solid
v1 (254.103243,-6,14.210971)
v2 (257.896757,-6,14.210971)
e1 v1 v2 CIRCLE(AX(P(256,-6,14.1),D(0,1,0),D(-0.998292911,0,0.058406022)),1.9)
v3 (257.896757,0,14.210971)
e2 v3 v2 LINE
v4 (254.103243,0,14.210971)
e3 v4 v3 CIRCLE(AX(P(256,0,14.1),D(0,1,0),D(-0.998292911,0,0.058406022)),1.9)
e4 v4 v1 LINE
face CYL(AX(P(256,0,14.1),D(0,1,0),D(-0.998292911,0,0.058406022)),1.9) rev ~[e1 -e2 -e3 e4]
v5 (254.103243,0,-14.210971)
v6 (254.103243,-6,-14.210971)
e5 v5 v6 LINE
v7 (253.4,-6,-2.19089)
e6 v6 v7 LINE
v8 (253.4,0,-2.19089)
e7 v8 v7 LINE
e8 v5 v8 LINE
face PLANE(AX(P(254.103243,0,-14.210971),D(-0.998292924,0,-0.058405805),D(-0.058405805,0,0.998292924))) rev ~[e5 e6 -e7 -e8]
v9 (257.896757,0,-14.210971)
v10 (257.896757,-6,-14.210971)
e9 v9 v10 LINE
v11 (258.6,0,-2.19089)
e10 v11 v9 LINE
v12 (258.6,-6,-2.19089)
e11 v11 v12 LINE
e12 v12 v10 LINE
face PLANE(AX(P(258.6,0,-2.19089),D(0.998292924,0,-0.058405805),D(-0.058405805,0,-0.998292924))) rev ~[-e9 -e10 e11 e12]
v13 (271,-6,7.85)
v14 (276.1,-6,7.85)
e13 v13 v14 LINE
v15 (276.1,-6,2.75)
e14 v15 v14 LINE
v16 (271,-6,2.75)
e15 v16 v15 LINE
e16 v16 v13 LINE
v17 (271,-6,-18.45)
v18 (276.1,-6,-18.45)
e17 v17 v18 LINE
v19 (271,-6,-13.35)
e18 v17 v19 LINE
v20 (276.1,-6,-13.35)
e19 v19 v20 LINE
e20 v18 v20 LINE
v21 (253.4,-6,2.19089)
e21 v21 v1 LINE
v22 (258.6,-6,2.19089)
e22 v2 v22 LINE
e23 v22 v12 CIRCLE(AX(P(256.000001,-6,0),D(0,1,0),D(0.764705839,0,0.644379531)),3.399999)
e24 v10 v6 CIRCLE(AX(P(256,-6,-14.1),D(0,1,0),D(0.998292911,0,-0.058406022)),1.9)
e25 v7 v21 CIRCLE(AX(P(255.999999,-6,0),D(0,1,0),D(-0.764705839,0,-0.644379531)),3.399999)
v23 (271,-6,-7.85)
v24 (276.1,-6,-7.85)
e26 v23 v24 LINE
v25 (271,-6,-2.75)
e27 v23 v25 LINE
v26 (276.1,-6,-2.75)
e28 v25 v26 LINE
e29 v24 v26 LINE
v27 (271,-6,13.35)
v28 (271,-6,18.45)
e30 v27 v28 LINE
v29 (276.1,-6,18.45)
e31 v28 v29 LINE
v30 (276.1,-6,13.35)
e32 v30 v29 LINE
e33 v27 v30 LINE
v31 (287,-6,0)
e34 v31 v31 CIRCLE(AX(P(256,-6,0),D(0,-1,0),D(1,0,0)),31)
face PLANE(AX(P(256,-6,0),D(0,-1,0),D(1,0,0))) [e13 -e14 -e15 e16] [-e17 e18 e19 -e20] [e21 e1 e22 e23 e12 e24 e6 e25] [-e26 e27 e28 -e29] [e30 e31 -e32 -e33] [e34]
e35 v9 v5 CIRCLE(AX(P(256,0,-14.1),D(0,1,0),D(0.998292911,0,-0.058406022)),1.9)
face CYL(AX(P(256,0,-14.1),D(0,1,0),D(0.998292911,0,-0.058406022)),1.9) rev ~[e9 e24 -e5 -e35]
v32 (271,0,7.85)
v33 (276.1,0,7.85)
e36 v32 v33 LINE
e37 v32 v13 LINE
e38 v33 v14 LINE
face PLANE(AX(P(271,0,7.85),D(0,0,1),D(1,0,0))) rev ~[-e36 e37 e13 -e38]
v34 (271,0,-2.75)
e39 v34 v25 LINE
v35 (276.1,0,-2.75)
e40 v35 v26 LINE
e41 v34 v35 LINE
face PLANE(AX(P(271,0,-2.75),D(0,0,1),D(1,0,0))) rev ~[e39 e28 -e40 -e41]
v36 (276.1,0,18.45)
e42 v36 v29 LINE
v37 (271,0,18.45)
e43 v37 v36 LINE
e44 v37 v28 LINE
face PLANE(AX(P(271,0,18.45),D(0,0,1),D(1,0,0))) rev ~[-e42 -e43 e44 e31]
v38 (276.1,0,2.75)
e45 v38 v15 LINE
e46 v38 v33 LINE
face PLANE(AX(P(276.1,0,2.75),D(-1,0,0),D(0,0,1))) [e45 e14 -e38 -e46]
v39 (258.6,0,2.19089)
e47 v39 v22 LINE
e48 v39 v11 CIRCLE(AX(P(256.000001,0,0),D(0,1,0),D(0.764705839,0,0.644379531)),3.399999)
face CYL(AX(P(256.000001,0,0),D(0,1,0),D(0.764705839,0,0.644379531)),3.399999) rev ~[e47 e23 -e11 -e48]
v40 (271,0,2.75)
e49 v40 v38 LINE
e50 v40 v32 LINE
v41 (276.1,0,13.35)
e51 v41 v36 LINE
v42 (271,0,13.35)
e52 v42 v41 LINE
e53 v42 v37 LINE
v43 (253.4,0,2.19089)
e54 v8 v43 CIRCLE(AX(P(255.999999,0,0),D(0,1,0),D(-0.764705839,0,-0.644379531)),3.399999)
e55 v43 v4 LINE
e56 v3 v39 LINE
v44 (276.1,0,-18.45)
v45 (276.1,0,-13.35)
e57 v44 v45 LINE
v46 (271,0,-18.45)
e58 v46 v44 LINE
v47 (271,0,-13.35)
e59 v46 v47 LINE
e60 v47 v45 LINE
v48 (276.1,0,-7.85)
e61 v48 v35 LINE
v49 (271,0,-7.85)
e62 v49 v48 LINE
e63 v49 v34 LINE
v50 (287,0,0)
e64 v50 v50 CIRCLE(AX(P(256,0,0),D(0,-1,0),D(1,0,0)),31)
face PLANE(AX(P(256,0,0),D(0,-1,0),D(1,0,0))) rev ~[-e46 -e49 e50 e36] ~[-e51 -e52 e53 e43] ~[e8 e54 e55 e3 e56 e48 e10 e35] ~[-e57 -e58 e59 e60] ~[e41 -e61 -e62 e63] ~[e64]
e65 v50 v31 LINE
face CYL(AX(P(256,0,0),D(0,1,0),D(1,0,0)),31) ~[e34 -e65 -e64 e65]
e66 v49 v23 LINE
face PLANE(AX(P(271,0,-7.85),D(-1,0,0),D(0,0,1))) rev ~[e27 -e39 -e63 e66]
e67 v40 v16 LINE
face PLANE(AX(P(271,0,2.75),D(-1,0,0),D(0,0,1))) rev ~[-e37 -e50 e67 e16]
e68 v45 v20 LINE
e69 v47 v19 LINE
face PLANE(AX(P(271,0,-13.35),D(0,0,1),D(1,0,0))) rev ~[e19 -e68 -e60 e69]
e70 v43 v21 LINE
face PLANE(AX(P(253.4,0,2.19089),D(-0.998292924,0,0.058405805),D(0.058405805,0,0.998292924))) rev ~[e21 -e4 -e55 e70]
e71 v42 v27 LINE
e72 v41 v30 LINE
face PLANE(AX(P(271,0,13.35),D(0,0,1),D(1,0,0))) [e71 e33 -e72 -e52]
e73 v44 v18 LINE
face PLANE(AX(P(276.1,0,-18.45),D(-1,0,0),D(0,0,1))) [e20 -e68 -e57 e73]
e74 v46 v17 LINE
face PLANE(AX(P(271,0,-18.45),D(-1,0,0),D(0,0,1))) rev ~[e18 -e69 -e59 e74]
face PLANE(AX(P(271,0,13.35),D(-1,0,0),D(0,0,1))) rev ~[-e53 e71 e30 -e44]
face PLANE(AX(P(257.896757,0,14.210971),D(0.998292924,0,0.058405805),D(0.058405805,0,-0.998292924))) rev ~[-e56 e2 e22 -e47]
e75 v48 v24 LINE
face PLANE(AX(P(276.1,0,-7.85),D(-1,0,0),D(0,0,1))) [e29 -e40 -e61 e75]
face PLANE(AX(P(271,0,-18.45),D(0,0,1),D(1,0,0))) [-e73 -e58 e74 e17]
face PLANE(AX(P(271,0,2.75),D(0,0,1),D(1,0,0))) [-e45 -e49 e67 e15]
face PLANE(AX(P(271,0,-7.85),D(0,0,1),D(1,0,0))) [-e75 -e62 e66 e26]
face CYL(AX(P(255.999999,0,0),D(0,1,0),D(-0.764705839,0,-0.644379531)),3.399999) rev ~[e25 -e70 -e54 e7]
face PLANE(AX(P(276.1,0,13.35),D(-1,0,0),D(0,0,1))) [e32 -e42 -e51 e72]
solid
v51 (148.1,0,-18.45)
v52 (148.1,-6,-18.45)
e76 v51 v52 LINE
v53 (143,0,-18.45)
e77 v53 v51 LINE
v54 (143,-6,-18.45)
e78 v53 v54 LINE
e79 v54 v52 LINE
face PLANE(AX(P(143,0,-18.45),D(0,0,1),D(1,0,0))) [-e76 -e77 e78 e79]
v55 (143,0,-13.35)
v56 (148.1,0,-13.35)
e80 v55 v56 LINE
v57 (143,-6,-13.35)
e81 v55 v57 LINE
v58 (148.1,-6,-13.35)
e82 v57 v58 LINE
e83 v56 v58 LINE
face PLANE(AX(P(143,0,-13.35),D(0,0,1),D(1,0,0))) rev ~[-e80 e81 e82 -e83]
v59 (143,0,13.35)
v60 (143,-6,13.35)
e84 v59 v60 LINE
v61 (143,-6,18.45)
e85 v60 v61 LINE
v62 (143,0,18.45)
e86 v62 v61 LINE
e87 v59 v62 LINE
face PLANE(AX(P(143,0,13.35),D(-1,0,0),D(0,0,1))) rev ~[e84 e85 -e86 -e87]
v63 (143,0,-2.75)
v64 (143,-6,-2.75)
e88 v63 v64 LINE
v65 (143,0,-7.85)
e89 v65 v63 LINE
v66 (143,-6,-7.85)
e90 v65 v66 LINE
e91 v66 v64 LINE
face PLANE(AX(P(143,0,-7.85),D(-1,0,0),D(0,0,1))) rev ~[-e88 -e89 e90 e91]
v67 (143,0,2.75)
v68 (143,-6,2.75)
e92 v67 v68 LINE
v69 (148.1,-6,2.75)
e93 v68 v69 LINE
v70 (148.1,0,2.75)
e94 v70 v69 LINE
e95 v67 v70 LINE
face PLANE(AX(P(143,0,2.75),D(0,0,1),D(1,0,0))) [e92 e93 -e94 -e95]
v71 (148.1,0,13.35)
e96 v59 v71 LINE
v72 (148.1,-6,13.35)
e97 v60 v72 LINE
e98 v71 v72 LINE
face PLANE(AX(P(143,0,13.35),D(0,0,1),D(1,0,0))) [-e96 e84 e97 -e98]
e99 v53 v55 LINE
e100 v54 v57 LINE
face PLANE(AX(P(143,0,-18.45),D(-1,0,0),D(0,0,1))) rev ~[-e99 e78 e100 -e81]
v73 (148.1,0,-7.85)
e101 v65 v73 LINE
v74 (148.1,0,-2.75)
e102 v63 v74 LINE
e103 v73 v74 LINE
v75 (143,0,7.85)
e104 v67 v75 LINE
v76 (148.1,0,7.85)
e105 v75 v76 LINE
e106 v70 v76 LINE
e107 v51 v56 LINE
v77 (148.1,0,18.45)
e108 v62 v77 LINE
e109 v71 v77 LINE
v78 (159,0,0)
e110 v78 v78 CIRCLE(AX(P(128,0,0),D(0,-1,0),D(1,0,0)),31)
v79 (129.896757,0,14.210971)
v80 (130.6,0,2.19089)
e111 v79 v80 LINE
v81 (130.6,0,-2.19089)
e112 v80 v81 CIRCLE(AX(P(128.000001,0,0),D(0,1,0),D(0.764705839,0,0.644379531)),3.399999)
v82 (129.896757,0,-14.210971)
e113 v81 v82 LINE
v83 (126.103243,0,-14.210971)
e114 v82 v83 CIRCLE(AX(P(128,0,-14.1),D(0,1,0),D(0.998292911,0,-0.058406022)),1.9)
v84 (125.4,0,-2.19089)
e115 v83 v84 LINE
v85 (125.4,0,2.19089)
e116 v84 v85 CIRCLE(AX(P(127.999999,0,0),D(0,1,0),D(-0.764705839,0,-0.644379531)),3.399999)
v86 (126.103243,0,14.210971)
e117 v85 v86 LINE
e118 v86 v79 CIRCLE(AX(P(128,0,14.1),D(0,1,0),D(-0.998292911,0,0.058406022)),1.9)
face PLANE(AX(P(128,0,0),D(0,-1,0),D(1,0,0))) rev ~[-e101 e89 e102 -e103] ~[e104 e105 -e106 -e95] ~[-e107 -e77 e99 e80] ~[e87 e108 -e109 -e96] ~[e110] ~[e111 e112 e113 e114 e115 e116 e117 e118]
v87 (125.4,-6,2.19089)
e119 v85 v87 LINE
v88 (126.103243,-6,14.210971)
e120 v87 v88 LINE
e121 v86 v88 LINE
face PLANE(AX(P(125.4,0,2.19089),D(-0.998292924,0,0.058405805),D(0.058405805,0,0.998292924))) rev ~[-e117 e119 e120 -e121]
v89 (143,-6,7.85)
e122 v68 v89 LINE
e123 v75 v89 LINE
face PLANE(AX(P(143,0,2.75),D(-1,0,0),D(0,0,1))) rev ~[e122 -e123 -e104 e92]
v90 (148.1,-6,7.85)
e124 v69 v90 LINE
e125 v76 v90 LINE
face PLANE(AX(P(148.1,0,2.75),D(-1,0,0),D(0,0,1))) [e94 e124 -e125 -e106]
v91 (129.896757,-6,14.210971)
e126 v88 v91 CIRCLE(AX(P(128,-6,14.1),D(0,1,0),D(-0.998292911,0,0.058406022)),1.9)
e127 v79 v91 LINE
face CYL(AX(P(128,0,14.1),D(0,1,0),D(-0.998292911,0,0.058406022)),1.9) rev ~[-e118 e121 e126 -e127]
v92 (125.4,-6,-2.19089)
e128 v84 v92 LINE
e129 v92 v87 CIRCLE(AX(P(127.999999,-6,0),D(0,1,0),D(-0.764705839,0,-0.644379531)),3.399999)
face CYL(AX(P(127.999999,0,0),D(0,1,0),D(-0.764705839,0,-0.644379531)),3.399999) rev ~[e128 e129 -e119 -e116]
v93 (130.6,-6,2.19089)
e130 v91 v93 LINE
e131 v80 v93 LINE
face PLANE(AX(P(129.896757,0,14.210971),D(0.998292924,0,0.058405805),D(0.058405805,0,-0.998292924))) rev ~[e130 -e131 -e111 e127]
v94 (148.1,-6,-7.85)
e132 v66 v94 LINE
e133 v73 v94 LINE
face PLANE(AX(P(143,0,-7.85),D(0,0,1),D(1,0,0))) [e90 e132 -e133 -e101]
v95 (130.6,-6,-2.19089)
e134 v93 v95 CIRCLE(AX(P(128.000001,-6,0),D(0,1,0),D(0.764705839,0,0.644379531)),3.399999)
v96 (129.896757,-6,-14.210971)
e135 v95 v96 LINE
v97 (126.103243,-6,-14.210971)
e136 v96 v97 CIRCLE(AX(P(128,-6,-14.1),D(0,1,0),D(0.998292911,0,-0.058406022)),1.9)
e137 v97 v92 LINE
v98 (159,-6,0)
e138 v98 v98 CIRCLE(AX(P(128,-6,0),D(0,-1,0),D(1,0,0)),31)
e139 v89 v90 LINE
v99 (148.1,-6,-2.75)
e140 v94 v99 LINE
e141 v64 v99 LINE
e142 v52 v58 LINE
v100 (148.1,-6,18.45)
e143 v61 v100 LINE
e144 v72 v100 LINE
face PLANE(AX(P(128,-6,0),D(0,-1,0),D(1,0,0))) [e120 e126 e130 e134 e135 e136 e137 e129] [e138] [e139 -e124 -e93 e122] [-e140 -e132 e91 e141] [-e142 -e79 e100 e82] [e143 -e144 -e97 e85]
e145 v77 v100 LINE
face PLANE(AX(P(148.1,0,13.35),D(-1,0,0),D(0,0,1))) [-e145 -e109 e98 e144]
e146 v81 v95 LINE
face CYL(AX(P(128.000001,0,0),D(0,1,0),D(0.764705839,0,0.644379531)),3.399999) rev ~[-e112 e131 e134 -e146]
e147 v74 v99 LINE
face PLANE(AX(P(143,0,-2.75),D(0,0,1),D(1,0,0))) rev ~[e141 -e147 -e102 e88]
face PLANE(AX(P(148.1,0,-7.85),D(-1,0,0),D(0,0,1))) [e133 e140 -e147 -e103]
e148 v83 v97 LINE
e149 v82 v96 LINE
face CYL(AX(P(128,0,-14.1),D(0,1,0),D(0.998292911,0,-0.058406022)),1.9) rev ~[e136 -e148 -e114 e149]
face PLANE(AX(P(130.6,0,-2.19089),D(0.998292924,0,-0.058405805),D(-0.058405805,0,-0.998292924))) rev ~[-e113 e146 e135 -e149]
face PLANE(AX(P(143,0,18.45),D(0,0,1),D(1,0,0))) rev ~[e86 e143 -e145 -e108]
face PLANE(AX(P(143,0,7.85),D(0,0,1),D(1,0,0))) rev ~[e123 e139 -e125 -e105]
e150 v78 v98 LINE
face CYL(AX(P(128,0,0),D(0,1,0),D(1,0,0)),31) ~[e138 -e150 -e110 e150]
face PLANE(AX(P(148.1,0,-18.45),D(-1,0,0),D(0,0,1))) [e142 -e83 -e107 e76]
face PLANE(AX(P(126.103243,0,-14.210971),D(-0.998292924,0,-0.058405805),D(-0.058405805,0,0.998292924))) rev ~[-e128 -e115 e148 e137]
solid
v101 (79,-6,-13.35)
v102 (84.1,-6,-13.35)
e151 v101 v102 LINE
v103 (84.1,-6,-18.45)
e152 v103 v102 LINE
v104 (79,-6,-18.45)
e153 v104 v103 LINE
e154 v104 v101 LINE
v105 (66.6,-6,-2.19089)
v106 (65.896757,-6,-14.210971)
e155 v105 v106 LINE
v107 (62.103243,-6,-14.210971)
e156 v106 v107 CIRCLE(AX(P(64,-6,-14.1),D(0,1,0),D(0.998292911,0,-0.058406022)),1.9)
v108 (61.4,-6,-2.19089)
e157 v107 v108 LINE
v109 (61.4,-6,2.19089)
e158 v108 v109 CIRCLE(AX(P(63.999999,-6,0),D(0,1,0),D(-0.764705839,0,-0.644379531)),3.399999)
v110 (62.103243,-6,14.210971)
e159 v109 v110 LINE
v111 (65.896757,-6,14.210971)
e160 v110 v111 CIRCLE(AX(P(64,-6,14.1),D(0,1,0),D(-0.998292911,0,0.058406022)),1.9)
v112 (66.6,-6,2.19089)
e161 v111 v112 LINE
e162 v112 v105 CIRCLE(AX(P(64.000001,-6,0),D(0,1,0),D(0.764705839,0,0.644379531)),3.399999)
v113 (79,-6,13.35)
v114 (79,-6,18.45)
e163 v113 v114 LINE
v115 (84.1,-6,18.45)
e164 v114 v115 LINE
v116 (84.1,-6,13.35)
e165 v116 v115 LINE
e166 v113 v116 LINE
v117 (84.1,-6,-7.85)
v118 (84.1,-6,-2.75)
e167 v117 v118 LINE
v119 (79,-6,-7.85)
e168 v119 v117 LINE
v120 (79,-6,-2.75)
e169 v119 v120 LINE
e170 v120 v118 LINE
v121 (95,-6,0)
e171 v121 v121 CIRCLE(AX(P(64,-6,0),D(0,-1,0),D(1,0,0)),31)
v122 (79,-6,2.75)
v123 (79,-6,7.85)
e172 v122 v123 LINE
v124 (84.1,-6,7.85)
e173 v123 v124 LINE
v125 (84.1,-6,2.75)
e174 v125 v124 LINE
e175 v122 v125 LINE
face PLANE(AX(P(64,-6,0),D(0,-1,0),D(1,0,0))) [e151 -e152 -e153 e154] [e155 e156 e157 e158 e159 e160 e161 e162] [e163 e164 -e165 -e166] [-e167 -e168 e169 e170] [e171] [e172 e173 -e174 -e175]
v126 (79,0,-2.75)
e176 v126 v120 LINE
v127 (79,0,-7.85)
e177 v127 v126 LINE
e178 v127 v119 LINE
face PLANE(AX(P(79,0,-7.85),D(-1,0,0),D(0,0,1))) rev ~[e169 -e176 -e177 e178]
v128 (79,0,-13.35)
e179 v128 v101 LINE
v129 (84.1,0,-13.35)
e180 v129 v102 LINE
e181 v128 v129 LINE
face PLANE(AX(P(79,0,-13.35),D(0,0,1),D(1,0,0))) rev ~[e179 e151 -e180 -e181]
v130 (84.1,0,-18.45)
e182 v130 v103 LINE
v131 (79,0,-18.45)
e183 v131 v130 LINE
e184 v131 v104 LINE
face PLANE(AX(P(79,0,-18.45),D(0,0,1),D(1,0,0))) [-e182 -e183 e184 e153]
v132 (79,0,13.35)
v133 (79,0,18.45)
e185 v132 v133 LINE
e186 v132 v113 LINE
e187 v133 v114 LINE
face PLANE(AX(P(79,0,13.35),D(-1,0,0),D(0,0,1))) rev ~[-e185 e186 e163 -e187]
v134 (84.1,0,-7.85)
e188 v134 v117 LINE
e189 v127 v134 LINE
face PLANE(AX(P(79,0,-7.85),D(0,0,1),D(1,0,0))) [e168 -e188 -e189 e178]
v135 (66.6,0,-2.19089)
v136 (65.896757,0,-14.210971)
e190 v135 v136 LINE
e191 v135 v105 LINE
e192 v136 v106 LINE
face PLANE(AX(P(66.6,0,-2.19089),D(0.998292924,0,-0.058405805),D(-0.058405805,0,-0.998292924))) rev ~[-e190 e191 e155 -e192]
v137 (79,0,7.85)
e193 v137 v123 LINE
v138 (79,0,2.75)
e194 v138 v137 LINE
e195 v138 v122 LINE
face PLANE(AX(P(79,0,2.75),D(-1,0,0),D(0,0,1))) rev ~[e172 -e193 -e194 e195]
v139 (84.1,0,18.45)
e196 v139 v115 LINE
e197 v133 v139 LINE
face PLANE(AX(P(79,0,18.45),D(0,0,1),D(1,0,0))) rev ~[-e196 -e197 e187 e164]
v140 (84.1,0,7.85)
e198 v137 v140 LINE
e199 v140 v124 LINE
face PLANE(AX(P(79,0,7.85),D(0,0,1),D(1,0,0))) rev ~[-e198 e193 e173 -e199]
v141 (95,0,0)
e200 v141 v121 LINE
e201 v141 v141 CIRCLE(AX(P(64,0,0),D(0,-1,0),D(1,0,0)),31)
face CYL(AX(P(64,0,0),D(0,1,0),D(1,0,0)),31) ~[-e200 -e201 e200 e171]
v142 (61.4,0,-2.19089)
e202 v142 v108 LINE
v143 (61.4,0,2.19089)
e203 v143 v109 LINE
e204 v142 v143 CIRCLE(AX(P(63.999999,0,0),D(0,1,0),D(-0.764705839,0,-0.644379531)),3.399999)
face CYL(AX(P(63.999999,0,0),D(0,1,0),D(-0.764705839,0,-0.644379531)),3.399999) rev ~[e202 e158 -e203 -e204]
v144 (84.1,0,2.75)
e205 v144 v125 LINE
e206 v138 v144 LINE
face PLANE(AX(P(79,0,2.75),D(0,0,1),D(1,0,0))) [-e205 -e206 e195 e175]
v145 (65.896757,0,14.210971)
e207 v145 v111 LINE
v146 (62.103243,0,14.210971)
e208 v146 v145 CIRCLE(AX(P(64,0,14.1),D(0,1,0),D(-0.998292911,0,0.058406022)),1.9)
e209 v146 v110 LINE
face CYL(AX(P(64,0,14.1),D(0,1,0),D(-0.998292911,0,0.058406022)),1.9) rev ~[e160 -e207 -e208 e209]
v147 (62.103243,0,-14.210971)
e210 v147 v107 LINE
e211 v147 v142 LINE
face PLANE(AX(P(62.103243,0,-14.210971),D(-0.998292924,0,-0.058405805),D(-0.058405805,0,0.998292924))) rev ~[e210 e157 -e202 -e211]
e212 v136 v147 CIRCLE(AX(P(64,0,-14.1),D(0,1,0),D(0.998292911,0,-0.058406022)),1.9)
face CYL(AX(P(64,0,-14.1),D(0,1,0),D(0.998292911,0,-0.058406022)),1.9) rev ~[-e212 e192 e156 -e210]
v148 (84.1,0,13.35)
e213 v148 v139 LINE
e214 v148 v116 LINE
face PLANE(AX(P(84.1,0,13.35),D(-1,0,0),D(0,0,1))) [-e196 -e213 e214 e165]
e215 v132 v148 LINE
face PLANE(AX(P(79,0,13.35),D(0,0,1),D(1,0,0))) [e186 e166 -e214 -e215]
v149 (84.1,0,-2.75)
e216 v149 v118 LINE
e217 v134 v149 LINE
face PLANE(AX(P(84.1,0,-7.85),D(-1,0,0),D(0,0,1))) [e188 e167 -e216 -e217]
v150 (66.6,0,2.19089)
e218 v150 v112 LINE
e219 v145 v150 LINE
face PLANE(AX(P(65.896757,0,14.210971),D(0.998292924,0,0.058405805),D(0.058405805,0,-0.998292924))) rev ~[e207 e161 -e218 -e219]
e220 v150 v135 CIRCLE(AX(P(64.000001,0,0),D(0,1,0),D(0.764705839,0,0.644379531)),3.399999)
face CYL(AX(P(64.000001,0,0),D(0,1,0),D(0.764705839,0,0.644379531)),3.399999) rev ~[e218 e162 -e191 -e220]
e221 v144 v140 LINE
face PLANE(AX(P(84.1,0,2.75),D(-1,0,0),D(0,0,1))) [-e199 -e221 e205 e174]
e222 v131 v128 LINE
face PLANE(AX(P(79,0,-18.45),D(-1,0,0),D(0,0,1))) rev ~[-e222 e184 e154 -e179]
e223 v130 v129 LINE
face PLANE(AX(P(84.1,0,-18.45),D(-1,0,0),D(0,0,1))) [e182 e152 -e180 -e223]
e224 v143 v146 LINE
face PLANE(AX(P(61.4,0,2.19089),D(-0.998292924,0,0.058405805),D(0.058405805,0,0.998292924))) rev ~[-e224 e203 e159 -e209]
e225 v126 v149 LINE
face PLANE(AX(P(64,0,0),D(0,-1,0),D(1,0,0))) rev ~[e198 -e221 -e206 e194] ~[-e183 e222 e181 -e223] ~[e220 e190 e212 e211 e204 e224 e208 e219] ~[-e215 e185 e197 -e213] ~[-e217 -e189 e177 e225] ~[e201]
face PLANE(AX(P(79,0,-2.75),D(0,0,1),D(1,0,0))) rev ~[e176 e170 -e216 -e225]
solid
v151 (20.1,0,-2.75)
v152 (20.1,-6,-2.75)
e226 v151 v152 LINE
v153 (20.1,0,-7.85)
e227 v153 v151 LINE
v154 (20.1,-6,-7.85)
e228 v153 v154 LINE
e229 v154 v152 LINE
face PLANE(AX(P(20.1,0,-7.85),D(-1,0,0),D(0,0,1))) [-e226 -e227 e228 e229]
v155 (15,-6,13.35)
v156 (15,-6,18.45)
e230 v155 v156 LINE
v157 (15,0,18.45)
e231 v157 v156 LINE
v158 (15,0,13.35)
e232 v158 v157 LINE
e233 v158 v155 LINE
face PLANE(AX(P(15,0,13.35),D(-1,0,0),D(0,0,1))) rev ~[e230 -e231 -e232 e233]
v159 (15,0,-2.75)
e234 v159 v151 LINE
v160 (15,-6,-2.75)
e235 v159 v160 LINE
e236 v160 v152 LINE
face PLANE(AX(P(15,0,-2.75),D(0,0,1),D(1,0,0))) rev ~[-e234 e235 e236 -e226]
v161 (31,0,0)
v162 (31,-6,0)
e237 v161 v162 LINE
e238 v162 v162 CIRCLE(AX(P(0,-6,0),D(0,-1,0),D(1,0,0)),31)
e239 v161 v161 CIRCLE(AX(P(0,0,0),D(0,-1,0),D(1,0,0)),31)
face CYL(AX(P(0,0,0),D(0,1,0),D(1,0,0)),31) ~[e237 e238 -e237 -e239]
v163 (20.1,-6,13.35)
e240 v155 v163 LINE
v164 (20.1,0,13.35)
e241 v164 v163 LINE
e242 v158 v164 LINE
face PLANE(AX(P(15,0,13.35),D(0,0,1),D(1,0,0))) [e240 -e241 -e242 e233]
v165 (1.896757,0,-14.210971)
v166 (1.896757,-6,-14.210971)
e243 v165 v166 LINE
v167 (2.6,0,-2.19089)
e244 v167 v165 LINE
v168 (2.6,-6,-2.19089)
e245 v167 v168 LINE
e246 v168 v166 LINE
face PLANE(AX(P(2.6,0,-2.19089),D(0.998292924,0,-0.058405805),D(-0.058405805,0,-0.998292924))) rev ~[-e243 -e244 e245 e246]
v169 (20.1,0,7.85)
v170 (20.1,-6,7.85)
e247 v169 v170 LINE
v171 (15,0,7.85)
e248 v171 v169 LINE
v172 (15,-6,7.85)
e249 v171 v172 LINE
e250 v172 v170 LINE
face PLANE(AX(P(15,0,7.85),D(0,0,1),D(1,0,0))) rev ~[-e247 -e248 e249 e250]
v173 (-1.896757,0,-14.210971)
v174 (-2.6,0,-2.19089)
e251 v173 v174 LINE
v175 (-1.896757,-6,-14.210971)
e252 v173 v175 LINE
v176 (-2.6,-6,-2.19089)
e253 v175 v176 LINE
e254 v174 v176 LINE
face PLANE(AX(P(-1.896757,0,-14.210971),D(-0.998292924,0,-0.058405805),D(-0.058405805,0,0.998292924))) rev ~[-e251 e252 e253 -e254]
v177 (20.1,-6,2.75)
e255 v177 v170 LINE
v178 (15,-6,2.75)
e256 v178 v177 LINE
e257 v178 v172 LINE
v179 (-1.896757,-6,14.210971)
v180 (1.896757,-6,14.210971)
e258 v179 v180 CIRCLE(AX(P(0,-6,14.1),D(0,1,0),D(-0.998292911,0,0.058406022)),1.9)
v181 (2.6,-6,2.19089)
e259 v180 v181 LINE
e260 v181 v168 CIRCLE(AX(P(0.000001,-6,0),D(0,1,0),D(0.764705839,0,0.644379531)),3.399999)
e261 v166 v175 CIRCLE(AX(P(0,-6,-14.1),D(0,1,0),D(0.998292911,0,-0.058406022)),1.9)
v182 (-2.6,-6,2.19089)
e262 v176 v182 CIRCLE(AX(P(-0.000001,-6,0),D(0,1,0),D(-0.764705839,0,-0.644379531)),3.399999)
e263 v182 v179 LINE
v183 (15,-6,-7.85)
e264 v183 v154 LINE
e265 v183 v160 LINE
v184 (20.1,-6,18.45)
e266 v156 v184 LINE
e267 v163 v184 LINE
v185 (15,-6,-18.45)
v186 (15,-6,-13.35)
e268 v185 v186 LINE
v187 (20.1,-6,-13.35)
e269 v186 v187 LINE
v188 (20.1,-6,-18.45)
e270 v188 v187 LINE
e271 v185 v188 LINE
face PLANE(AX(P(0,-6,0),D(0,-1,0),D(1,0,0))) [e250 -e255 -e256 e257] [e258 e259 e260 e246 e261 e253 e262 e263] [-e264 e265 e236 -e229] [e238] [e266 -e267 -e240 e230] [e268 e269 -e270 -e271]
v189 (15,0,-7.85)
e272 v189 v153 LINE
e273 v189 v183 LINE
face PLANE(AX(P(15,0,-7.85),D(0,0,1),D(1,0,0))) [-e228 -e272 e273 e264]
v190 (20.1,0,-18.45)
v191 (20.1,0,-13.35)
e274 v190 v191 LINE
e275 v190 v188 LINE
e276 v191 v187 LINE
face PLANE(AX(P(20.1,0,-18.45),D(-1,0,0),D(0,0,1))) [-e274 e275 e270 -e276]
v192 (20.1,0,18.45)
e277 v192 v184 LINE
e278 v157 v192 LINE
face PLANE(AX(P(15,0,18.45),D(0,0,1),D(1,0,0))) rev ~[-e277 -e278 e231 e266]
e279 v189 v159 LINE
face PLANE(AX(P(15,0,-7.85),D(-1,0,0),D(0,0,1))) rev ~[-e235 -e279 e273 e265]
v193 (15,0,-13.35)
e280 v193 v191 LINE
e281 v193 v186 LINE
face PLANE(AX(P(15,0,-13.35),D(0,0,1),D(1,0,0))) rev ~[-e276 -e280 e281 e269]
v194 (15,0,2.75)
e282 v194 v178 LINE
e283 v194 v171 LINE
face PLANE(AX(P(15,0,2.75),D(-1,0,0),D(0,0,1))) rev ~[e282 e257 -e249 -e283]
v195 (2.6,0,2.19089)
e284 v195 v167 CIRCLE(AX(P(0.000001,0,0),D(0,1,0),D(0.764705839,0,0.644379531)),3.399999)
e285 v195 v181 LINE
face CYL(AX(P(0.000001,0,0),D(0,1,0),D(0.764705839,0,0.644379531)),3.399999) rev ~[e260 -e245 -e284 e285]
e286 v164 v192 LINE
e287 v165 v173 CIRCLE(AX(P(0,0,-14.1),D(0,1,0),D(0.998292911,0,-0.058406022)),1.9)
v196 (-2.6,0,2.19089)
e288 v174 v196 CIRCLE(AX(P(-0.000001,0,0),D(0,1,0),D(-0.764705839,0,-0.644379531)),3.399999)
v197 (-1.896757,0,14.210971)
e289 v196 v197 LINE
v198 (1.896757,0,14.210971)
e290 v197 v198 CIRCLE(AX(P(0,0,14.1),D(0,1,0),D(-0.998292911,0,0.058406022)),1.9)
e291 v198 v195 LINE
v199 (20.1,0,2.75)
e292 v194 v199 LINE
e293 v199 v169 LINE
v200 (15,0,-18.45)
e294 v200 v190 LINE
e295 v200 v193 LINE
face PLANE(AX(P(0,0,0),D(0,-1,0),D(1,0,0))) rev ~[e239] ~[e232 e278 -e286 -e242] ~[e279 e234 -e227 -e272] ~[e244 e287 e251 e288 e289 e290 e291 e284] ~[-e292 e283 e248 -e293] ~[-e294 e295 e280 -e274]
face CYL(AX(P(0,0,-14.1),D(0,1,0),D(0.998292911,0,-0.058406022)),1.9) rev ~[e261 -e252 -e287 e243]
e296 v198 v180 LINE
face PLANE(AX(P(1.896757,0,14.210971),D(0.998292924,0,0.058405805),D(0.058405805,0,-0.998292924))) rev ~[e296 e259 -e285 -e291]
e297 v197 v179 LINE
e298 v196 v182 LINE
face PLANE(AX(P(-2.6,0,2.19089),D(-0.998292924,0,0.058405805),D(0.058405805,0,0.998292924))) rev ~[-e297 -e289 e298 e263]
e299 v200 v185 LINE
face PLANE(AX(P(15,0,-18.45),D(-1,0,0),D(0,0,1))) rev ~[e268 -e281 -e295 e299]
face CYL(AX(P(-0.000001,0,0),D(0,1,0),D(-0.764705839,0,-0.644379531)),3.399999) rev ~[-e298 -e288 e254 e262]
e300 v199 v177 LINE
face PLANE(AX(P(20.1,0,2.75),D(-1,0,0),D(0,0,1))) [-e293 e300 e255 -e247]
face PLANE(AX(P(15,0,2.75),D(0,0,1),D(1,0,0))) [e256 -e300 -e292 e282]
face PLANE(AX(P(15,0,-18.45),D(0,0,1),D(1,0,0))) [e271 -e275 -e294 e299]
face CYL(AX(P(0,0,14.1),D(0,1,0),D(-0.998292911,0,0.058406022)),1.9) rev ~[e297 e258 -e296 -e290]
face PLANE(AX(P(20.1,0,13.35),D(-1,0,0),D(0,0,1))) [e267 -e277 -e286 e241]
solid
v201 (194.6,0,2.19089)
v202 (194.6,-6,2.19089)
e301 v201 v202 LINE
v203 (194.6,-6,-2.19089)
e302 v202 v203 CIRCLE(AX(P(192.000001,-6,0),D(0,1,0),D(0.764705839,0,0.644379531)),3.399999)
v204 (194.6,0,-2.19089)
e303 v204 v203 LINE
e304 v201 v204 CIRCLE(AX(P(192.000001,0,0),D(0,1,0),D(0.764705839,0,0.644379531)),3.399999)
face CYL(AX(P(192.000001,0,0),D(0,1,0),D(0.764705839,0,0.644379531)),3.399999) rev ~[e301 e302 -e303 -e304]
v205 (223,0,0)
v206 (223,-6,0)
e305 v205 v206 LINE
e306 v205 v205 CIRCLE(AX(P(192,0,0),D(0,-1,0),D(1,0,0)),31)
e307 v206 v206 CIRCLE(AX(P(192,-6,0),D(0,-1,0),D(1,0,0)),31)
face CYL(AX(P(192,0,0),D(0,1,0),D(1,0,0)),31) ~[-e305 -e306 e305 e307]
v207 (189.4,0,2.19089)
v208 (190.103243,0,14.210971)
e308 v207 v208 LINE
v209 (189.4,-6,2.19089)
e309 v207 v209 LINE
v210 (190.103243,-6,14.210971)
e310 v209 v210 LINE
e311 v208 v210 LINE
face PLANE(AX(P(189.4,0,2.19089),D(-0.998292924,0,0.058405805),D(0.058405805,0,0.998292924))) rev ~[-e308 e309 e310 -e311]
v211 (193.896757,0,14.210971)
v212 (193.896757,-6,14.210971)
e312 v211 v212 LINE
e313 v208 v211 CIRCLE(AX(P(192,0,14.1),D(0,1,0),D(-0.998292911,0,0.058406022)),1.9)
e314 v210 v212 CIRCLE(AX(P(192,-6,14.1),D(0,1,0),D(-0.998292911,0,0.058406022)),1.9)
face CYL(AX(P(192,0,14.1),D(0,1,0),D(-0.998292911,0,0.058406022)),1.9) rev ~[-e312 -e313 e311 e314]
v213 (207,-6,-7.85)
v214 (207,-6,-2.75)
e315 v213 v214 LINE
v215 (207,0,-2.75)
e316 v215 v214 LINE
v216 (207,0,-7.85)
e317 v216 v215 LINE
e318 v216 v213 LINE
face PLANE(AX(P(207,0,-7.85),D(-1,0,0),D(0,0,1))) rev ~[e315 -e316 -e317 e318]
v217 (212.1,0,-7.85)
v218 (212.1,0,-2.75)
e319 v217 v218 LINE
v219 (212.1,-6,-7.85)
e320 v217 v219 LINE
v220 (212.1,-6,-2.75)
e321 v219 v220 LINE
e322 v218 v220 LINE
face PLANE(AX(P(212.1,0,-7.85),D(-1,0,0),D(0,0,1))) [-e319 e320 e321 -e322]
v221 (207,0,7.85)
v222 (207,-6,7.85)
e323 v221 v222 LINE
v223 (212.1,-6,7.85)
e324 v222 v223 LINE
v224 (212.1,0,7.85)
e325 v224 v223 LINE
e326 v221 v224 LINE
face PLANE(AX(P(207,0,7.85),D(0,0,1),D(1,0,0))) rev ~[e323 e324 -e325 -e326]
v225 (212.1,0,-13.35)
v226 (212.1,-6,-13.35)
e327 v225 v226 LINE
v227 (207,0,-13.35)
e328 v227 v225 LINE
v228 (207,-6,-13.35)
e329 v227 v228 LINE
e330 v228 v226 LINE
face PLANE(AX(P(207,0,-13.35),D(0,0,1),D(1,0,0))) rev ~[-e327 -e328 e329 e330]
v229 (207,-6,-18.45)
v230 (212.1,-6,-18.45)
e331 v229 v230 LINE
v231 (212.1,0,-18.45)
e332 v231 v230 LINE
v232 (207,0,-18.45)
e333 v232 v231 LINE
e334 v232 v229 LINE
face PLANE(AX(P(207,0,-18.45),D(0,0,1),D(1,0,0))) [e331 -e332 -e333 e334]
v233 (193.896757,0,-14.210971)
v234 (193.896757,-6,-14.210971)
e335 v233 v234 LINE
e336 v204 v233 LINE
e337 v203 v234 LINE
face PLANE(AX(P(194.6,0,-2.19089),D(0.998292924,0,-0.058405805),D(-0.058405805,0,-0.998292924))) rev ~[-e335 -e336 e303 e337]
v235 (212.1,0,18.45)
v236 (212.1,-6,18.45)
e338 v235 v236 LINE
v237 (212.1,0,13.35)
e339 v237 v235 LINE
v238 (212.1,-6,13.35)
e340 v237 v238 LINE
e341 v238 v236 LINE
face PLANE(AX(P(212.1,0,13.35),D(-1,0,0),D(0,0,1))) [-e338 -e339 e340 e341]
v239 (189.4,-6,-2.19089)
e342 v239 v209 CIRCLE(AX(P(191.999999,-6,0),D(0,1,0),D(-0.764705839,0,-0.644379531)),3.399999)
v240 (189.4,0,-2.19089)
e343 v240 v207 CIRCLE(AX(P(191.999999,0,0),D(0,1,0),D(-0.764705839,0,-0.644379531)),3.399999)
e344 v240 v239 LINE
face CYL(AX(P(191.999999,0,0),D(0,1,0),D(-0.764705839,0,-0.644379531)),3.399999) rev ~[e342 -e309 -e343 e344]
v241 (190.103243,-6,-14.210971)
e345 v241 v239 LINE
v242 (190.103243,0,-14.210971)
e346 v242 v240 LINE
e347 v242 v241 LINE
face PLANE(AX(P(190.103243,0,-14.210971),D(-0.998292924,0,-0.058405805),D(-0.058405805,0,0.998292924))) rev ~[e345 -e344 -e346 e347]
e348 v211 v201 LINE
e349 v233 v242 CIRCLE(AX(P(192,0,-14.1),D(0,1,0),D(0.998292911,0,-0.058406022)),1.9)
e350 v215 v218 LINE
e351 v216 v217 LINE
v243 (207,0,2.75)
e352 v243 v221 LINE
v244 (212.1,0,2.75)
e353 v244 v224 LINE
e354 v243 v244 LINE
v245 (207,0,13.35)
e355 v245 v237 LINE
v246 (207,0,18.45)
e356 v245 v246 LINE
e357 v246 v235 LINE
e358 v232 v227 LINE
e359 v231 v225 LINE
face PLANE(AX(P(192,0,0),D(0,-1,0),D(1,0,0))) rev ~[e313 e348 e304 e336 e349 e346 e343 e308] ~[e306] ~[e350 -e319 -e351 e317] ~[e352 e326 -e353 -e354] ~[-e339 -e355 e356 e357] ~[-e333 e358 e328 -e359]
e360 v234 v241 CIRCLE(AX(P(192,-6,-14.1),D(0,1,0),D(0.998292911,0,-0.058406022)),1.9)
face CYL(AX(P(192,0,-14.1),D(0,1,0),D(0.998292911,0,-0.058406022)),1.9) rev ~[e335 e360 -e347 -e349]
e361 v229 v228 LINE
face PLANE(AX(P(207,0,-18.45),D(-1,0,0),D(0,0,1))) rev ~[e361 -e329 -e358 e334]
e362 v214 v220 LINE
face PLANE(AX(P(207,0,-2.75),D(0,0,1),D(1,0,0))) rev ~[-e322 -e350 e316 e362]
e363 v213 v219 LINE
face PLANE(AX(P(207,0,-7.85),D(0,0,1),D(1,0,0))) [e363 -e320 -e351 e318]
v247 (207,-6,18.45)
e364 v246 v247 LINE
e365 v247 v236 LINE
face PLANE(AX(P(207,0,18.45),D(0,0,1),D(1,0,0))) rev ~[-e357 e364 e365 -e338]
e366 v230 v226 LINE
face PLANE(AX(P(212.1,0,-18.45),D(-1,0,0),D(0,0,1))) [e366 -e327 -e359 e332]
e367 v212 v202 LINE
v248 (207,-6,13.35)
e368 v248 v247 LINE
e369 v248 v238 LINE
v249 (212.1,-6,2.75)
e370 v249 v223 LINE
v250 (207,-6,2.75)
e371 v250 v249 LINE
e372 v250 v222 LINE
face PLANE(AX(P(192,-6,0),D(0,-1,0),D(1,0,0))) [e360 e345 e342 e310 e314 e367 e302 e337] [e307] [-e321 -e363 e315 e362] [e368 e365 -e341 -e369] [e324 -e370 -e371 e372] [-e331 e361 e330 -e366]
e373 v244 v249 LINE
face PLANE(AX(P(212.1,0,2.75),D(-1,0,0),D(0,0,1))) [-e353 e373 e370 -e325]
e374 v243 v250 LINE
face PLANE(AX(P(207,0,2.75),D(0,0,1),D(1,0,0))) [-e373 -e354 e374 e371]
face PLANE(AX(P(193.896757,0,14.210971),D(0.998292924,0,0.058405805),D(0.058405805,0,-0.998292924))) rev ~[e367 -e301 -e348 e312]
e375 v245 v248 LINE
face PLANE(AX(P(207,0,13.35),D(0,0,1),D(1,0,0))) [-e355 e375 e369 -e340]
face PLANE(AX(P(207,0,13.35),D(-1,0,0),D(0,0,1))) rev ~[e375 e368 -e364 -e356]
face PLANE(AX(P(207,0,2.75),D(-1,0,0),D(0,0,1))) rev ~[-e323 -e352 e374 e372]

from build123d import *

# Parameters (mm, degrees)
F0_R     = 31
F0_W     = 5.1
F0_H     = 5.1
F1_DEPTH = 6


with BuildPart() as f1:
    # F0 (on Front) → F1 (new body)
    with BuildSketch(Plane.XZ):
        Circle(F0_R)
        with Locations((17.55, -15.9)):
            Rectangle(F0_W, F0_H, mode=Mode.SUBTRACT)
        with Locations((17.55, -5.3)):
            Rectangle(F0_W, F0_H, mode=Mode.SUBTRACT)
        with BuildLine():
            Line((-2.6, 2.19089), (-1.896757, 14.210971))
            ThreePointArc((-1.896757, 14.210971), (0, 16), (1.896757, 14.210971))
            Line((1.896757, 14.210971), (2.6, 2.19089))
            ThreePointArc((2.6, 2.19089), (3.4, 0), (2.6, -2.19089))
            Line((2.6, -2.19089), (1.896757, -14.210971))
            ThreePointArc((1.896757, -14.210971), (0, -16), (-1.896757, -14.210971))
            Line((-1.896757, -14.210971), (-2.6, -2.19089))
            ThreePointArc((-2.6, -2.19089), (-3.4, 0), (-2.6, 2.19089))
        make_face(mode=Mode.SUBTRACT)
        with Locations((17.55, 5.3)):
            Rectangle(F0_W, F0_H, mode=Mode.SUBTRACT)
        with Locations((17.55, 15.9)):
            Rectangle(F0_W, F0_H, mode=Mode.SUBTRACT)
        with Locations((64, 0)):
            Circle(F0_R)
        with Locations((81.55, -15.9)):
            Rectangle(F0_W, F0_H, mode=Mode.SUBTRACT)
        with Locations((81.55, -5.3)):
            Rectangle(F0_W, F0_H, mode=Mode.SUBTRACT)
        with BuildLine():
            Line((65.896757, 14.210971), (66.6, 2.19089))
            ThreePointArc((66.6, 2.19089), (67.4, 0), (66.6, -2.19089))
            Line((66.6, -2.19089), (65.896757, -14.210971))
            ThreePointArc((65.896757, -14.210971), (64, -16), (62.103243, -14.210971))
            Line((62.103243, -14.210971), (61.4, -2.19089))
            ThreePointArc((61.4, -2.19089), (60.6, 0), (61.4, 2.19089))
            Line((61.4, 2.19089), (62.103243, 14.210971))
            ThreePointArc((62.103243, 14.210971), (64, 16), (65.896757, 14.210971))
        make_face(mode=Mode.SUBTRACT)
        with Locations((81.55, 5.3)):
            Rectangle(F0_W, F0_H, mode=Mode.SUBTRACT)
        with Locations((81.55, 15.9)):
            Rectangle(F0_W, F0_H, mode=Mode.SUBTRACT)
        with Locations((128, 0)):
            Circle(F0_R)
        with Locations((145.55, -15.9)):
            Rectangle(F0_W, F0_H, mode=Mode.SUBTRACT)
        with Locations((145.55, -5.3)):
            Rectangle(F0_W, F0_H, mode=Mode.SUBTRACT)
        with BuildLine():
            Line((129.896757, 14.210971), (130.6, 2.19089))
            ThreePointArc((130.6, 2.19089), (131.4, 0), (130.6, -2.19089))
            Line((130.6, -2.19089), (129.896757, -14.210971))
            ThreePointArc((129.896757, -14.210971), (128, -16), (126.103243, -14.210971))
            Line((126.103243, -14.210971), (125.4, -2.19089))
            ThreePointArc((125.4, -2.19089), (124.6, 0), (125.4, 2.19089))
            Line((125.4, 2.19089), (126.103243, 14.210971))
            ThreePointArc((126.103243, 14.210971), (128, 16), (129.896757, 14.210971))
        make_face(mode=Mode.SUBTRACT)
        with Locations((145.55, 5.3)):
            Rectangle(F0_W, F0_H, mode=Mode.SUBTRACT)
        with Locations((145.55, 15.9)):
            Rectangle(F0_W, F0_H, mode=Mode.SUBTRACT)
        with Locations((192, 0)):
            Circle(F0_R)
        with Locations((209.55, -15.9)):
            Rectangle(F0_W, F0_H, mode=Mode.SUBTRACT)
        with Locations((209.55, -5.3)):
            Rectangle(F0_W, F0_H, mode=Mode.SUBTRACT)
        with BuildLine():
            Line((193.896757, 14.210971), (194.6, 2.19089))
            ThreePointArc((194.6, 2.19089), (195.4, 0), (194.6, -2.19089))
            Line((194.6, -2.19089), (193.896757, -14.210971))
            ThreePointArc((193.896757, -14.210971), (192, -16), (190.103243, -14.210971))
            Line((190.103243, -14.210971), (189.4, -2.19089))
            ThreePointArc((189.4, -2.19089), (188.6, 0), (189.4, 2.19089))
            Line((189.4, 2.19089), (190.103243, 14.210971))
            ThreePointArc((190.103243, 14.210971), (192, 16), (193.896757, 14.210971))
        make_face(mode=Mode.SUBTRACT)
        with Locations((209.55, 5.3)):
            Rectangle(F0_W, F0_H, mode=Mode.SUBTRACT)
        with Locations((209.55, 15.9)):
            Rectangle(F0_W, F0_H, mode=Mode.SUBTRACT)
        with Locations((256, 0)):
            Circle(F0_R)
        with Locations((273.55, -15.9)):
            Rectangle(F0_W, F0_H, mode=Mode.SUBTRACT)
        with Locations((273.55, -5.3)):
            Rectangle(F0_W, F0_H, mode=Mode.SUBTRACT)
        with BuildLine():
            Line((257.896757, 14.210971), (258.6, 2.19089))
            ThreePointArc((258.6, 2.19089), (259.4, 0), (258.6, -2.19089))
            Line((258.6, -2.19089), (257.896757, -14.210971))
            ThreePointArc((257.896757, -14.210971), (256, -16), (254.103243, -14.210971))
            Line((254.103243, -14.210971), (253.4, -2.19089))
            ThreePointArc((253.4, -2.19089), (252.6, 0), (253.4, 2.19089))
            Line((253.4, 2.19089), (254.103243, 14.210971))
            ThreePointArc((254.103243, 14.210971), (256, 16), (257.896757, 14.210971))
        make_face(mode=Mode.SUBTRACT)
        with Locations((273.55, 5.3)):
            Rectangle(F0_W, F0_H, mode=Mode.SUBTRACT)
        with Locations((273.55, 15.9)):
            Rectangle(F0_W, F0_H, mode=Mode.SUBTRACT)
    extrude(amount=F1_DEPTH)


solid = f1.part
